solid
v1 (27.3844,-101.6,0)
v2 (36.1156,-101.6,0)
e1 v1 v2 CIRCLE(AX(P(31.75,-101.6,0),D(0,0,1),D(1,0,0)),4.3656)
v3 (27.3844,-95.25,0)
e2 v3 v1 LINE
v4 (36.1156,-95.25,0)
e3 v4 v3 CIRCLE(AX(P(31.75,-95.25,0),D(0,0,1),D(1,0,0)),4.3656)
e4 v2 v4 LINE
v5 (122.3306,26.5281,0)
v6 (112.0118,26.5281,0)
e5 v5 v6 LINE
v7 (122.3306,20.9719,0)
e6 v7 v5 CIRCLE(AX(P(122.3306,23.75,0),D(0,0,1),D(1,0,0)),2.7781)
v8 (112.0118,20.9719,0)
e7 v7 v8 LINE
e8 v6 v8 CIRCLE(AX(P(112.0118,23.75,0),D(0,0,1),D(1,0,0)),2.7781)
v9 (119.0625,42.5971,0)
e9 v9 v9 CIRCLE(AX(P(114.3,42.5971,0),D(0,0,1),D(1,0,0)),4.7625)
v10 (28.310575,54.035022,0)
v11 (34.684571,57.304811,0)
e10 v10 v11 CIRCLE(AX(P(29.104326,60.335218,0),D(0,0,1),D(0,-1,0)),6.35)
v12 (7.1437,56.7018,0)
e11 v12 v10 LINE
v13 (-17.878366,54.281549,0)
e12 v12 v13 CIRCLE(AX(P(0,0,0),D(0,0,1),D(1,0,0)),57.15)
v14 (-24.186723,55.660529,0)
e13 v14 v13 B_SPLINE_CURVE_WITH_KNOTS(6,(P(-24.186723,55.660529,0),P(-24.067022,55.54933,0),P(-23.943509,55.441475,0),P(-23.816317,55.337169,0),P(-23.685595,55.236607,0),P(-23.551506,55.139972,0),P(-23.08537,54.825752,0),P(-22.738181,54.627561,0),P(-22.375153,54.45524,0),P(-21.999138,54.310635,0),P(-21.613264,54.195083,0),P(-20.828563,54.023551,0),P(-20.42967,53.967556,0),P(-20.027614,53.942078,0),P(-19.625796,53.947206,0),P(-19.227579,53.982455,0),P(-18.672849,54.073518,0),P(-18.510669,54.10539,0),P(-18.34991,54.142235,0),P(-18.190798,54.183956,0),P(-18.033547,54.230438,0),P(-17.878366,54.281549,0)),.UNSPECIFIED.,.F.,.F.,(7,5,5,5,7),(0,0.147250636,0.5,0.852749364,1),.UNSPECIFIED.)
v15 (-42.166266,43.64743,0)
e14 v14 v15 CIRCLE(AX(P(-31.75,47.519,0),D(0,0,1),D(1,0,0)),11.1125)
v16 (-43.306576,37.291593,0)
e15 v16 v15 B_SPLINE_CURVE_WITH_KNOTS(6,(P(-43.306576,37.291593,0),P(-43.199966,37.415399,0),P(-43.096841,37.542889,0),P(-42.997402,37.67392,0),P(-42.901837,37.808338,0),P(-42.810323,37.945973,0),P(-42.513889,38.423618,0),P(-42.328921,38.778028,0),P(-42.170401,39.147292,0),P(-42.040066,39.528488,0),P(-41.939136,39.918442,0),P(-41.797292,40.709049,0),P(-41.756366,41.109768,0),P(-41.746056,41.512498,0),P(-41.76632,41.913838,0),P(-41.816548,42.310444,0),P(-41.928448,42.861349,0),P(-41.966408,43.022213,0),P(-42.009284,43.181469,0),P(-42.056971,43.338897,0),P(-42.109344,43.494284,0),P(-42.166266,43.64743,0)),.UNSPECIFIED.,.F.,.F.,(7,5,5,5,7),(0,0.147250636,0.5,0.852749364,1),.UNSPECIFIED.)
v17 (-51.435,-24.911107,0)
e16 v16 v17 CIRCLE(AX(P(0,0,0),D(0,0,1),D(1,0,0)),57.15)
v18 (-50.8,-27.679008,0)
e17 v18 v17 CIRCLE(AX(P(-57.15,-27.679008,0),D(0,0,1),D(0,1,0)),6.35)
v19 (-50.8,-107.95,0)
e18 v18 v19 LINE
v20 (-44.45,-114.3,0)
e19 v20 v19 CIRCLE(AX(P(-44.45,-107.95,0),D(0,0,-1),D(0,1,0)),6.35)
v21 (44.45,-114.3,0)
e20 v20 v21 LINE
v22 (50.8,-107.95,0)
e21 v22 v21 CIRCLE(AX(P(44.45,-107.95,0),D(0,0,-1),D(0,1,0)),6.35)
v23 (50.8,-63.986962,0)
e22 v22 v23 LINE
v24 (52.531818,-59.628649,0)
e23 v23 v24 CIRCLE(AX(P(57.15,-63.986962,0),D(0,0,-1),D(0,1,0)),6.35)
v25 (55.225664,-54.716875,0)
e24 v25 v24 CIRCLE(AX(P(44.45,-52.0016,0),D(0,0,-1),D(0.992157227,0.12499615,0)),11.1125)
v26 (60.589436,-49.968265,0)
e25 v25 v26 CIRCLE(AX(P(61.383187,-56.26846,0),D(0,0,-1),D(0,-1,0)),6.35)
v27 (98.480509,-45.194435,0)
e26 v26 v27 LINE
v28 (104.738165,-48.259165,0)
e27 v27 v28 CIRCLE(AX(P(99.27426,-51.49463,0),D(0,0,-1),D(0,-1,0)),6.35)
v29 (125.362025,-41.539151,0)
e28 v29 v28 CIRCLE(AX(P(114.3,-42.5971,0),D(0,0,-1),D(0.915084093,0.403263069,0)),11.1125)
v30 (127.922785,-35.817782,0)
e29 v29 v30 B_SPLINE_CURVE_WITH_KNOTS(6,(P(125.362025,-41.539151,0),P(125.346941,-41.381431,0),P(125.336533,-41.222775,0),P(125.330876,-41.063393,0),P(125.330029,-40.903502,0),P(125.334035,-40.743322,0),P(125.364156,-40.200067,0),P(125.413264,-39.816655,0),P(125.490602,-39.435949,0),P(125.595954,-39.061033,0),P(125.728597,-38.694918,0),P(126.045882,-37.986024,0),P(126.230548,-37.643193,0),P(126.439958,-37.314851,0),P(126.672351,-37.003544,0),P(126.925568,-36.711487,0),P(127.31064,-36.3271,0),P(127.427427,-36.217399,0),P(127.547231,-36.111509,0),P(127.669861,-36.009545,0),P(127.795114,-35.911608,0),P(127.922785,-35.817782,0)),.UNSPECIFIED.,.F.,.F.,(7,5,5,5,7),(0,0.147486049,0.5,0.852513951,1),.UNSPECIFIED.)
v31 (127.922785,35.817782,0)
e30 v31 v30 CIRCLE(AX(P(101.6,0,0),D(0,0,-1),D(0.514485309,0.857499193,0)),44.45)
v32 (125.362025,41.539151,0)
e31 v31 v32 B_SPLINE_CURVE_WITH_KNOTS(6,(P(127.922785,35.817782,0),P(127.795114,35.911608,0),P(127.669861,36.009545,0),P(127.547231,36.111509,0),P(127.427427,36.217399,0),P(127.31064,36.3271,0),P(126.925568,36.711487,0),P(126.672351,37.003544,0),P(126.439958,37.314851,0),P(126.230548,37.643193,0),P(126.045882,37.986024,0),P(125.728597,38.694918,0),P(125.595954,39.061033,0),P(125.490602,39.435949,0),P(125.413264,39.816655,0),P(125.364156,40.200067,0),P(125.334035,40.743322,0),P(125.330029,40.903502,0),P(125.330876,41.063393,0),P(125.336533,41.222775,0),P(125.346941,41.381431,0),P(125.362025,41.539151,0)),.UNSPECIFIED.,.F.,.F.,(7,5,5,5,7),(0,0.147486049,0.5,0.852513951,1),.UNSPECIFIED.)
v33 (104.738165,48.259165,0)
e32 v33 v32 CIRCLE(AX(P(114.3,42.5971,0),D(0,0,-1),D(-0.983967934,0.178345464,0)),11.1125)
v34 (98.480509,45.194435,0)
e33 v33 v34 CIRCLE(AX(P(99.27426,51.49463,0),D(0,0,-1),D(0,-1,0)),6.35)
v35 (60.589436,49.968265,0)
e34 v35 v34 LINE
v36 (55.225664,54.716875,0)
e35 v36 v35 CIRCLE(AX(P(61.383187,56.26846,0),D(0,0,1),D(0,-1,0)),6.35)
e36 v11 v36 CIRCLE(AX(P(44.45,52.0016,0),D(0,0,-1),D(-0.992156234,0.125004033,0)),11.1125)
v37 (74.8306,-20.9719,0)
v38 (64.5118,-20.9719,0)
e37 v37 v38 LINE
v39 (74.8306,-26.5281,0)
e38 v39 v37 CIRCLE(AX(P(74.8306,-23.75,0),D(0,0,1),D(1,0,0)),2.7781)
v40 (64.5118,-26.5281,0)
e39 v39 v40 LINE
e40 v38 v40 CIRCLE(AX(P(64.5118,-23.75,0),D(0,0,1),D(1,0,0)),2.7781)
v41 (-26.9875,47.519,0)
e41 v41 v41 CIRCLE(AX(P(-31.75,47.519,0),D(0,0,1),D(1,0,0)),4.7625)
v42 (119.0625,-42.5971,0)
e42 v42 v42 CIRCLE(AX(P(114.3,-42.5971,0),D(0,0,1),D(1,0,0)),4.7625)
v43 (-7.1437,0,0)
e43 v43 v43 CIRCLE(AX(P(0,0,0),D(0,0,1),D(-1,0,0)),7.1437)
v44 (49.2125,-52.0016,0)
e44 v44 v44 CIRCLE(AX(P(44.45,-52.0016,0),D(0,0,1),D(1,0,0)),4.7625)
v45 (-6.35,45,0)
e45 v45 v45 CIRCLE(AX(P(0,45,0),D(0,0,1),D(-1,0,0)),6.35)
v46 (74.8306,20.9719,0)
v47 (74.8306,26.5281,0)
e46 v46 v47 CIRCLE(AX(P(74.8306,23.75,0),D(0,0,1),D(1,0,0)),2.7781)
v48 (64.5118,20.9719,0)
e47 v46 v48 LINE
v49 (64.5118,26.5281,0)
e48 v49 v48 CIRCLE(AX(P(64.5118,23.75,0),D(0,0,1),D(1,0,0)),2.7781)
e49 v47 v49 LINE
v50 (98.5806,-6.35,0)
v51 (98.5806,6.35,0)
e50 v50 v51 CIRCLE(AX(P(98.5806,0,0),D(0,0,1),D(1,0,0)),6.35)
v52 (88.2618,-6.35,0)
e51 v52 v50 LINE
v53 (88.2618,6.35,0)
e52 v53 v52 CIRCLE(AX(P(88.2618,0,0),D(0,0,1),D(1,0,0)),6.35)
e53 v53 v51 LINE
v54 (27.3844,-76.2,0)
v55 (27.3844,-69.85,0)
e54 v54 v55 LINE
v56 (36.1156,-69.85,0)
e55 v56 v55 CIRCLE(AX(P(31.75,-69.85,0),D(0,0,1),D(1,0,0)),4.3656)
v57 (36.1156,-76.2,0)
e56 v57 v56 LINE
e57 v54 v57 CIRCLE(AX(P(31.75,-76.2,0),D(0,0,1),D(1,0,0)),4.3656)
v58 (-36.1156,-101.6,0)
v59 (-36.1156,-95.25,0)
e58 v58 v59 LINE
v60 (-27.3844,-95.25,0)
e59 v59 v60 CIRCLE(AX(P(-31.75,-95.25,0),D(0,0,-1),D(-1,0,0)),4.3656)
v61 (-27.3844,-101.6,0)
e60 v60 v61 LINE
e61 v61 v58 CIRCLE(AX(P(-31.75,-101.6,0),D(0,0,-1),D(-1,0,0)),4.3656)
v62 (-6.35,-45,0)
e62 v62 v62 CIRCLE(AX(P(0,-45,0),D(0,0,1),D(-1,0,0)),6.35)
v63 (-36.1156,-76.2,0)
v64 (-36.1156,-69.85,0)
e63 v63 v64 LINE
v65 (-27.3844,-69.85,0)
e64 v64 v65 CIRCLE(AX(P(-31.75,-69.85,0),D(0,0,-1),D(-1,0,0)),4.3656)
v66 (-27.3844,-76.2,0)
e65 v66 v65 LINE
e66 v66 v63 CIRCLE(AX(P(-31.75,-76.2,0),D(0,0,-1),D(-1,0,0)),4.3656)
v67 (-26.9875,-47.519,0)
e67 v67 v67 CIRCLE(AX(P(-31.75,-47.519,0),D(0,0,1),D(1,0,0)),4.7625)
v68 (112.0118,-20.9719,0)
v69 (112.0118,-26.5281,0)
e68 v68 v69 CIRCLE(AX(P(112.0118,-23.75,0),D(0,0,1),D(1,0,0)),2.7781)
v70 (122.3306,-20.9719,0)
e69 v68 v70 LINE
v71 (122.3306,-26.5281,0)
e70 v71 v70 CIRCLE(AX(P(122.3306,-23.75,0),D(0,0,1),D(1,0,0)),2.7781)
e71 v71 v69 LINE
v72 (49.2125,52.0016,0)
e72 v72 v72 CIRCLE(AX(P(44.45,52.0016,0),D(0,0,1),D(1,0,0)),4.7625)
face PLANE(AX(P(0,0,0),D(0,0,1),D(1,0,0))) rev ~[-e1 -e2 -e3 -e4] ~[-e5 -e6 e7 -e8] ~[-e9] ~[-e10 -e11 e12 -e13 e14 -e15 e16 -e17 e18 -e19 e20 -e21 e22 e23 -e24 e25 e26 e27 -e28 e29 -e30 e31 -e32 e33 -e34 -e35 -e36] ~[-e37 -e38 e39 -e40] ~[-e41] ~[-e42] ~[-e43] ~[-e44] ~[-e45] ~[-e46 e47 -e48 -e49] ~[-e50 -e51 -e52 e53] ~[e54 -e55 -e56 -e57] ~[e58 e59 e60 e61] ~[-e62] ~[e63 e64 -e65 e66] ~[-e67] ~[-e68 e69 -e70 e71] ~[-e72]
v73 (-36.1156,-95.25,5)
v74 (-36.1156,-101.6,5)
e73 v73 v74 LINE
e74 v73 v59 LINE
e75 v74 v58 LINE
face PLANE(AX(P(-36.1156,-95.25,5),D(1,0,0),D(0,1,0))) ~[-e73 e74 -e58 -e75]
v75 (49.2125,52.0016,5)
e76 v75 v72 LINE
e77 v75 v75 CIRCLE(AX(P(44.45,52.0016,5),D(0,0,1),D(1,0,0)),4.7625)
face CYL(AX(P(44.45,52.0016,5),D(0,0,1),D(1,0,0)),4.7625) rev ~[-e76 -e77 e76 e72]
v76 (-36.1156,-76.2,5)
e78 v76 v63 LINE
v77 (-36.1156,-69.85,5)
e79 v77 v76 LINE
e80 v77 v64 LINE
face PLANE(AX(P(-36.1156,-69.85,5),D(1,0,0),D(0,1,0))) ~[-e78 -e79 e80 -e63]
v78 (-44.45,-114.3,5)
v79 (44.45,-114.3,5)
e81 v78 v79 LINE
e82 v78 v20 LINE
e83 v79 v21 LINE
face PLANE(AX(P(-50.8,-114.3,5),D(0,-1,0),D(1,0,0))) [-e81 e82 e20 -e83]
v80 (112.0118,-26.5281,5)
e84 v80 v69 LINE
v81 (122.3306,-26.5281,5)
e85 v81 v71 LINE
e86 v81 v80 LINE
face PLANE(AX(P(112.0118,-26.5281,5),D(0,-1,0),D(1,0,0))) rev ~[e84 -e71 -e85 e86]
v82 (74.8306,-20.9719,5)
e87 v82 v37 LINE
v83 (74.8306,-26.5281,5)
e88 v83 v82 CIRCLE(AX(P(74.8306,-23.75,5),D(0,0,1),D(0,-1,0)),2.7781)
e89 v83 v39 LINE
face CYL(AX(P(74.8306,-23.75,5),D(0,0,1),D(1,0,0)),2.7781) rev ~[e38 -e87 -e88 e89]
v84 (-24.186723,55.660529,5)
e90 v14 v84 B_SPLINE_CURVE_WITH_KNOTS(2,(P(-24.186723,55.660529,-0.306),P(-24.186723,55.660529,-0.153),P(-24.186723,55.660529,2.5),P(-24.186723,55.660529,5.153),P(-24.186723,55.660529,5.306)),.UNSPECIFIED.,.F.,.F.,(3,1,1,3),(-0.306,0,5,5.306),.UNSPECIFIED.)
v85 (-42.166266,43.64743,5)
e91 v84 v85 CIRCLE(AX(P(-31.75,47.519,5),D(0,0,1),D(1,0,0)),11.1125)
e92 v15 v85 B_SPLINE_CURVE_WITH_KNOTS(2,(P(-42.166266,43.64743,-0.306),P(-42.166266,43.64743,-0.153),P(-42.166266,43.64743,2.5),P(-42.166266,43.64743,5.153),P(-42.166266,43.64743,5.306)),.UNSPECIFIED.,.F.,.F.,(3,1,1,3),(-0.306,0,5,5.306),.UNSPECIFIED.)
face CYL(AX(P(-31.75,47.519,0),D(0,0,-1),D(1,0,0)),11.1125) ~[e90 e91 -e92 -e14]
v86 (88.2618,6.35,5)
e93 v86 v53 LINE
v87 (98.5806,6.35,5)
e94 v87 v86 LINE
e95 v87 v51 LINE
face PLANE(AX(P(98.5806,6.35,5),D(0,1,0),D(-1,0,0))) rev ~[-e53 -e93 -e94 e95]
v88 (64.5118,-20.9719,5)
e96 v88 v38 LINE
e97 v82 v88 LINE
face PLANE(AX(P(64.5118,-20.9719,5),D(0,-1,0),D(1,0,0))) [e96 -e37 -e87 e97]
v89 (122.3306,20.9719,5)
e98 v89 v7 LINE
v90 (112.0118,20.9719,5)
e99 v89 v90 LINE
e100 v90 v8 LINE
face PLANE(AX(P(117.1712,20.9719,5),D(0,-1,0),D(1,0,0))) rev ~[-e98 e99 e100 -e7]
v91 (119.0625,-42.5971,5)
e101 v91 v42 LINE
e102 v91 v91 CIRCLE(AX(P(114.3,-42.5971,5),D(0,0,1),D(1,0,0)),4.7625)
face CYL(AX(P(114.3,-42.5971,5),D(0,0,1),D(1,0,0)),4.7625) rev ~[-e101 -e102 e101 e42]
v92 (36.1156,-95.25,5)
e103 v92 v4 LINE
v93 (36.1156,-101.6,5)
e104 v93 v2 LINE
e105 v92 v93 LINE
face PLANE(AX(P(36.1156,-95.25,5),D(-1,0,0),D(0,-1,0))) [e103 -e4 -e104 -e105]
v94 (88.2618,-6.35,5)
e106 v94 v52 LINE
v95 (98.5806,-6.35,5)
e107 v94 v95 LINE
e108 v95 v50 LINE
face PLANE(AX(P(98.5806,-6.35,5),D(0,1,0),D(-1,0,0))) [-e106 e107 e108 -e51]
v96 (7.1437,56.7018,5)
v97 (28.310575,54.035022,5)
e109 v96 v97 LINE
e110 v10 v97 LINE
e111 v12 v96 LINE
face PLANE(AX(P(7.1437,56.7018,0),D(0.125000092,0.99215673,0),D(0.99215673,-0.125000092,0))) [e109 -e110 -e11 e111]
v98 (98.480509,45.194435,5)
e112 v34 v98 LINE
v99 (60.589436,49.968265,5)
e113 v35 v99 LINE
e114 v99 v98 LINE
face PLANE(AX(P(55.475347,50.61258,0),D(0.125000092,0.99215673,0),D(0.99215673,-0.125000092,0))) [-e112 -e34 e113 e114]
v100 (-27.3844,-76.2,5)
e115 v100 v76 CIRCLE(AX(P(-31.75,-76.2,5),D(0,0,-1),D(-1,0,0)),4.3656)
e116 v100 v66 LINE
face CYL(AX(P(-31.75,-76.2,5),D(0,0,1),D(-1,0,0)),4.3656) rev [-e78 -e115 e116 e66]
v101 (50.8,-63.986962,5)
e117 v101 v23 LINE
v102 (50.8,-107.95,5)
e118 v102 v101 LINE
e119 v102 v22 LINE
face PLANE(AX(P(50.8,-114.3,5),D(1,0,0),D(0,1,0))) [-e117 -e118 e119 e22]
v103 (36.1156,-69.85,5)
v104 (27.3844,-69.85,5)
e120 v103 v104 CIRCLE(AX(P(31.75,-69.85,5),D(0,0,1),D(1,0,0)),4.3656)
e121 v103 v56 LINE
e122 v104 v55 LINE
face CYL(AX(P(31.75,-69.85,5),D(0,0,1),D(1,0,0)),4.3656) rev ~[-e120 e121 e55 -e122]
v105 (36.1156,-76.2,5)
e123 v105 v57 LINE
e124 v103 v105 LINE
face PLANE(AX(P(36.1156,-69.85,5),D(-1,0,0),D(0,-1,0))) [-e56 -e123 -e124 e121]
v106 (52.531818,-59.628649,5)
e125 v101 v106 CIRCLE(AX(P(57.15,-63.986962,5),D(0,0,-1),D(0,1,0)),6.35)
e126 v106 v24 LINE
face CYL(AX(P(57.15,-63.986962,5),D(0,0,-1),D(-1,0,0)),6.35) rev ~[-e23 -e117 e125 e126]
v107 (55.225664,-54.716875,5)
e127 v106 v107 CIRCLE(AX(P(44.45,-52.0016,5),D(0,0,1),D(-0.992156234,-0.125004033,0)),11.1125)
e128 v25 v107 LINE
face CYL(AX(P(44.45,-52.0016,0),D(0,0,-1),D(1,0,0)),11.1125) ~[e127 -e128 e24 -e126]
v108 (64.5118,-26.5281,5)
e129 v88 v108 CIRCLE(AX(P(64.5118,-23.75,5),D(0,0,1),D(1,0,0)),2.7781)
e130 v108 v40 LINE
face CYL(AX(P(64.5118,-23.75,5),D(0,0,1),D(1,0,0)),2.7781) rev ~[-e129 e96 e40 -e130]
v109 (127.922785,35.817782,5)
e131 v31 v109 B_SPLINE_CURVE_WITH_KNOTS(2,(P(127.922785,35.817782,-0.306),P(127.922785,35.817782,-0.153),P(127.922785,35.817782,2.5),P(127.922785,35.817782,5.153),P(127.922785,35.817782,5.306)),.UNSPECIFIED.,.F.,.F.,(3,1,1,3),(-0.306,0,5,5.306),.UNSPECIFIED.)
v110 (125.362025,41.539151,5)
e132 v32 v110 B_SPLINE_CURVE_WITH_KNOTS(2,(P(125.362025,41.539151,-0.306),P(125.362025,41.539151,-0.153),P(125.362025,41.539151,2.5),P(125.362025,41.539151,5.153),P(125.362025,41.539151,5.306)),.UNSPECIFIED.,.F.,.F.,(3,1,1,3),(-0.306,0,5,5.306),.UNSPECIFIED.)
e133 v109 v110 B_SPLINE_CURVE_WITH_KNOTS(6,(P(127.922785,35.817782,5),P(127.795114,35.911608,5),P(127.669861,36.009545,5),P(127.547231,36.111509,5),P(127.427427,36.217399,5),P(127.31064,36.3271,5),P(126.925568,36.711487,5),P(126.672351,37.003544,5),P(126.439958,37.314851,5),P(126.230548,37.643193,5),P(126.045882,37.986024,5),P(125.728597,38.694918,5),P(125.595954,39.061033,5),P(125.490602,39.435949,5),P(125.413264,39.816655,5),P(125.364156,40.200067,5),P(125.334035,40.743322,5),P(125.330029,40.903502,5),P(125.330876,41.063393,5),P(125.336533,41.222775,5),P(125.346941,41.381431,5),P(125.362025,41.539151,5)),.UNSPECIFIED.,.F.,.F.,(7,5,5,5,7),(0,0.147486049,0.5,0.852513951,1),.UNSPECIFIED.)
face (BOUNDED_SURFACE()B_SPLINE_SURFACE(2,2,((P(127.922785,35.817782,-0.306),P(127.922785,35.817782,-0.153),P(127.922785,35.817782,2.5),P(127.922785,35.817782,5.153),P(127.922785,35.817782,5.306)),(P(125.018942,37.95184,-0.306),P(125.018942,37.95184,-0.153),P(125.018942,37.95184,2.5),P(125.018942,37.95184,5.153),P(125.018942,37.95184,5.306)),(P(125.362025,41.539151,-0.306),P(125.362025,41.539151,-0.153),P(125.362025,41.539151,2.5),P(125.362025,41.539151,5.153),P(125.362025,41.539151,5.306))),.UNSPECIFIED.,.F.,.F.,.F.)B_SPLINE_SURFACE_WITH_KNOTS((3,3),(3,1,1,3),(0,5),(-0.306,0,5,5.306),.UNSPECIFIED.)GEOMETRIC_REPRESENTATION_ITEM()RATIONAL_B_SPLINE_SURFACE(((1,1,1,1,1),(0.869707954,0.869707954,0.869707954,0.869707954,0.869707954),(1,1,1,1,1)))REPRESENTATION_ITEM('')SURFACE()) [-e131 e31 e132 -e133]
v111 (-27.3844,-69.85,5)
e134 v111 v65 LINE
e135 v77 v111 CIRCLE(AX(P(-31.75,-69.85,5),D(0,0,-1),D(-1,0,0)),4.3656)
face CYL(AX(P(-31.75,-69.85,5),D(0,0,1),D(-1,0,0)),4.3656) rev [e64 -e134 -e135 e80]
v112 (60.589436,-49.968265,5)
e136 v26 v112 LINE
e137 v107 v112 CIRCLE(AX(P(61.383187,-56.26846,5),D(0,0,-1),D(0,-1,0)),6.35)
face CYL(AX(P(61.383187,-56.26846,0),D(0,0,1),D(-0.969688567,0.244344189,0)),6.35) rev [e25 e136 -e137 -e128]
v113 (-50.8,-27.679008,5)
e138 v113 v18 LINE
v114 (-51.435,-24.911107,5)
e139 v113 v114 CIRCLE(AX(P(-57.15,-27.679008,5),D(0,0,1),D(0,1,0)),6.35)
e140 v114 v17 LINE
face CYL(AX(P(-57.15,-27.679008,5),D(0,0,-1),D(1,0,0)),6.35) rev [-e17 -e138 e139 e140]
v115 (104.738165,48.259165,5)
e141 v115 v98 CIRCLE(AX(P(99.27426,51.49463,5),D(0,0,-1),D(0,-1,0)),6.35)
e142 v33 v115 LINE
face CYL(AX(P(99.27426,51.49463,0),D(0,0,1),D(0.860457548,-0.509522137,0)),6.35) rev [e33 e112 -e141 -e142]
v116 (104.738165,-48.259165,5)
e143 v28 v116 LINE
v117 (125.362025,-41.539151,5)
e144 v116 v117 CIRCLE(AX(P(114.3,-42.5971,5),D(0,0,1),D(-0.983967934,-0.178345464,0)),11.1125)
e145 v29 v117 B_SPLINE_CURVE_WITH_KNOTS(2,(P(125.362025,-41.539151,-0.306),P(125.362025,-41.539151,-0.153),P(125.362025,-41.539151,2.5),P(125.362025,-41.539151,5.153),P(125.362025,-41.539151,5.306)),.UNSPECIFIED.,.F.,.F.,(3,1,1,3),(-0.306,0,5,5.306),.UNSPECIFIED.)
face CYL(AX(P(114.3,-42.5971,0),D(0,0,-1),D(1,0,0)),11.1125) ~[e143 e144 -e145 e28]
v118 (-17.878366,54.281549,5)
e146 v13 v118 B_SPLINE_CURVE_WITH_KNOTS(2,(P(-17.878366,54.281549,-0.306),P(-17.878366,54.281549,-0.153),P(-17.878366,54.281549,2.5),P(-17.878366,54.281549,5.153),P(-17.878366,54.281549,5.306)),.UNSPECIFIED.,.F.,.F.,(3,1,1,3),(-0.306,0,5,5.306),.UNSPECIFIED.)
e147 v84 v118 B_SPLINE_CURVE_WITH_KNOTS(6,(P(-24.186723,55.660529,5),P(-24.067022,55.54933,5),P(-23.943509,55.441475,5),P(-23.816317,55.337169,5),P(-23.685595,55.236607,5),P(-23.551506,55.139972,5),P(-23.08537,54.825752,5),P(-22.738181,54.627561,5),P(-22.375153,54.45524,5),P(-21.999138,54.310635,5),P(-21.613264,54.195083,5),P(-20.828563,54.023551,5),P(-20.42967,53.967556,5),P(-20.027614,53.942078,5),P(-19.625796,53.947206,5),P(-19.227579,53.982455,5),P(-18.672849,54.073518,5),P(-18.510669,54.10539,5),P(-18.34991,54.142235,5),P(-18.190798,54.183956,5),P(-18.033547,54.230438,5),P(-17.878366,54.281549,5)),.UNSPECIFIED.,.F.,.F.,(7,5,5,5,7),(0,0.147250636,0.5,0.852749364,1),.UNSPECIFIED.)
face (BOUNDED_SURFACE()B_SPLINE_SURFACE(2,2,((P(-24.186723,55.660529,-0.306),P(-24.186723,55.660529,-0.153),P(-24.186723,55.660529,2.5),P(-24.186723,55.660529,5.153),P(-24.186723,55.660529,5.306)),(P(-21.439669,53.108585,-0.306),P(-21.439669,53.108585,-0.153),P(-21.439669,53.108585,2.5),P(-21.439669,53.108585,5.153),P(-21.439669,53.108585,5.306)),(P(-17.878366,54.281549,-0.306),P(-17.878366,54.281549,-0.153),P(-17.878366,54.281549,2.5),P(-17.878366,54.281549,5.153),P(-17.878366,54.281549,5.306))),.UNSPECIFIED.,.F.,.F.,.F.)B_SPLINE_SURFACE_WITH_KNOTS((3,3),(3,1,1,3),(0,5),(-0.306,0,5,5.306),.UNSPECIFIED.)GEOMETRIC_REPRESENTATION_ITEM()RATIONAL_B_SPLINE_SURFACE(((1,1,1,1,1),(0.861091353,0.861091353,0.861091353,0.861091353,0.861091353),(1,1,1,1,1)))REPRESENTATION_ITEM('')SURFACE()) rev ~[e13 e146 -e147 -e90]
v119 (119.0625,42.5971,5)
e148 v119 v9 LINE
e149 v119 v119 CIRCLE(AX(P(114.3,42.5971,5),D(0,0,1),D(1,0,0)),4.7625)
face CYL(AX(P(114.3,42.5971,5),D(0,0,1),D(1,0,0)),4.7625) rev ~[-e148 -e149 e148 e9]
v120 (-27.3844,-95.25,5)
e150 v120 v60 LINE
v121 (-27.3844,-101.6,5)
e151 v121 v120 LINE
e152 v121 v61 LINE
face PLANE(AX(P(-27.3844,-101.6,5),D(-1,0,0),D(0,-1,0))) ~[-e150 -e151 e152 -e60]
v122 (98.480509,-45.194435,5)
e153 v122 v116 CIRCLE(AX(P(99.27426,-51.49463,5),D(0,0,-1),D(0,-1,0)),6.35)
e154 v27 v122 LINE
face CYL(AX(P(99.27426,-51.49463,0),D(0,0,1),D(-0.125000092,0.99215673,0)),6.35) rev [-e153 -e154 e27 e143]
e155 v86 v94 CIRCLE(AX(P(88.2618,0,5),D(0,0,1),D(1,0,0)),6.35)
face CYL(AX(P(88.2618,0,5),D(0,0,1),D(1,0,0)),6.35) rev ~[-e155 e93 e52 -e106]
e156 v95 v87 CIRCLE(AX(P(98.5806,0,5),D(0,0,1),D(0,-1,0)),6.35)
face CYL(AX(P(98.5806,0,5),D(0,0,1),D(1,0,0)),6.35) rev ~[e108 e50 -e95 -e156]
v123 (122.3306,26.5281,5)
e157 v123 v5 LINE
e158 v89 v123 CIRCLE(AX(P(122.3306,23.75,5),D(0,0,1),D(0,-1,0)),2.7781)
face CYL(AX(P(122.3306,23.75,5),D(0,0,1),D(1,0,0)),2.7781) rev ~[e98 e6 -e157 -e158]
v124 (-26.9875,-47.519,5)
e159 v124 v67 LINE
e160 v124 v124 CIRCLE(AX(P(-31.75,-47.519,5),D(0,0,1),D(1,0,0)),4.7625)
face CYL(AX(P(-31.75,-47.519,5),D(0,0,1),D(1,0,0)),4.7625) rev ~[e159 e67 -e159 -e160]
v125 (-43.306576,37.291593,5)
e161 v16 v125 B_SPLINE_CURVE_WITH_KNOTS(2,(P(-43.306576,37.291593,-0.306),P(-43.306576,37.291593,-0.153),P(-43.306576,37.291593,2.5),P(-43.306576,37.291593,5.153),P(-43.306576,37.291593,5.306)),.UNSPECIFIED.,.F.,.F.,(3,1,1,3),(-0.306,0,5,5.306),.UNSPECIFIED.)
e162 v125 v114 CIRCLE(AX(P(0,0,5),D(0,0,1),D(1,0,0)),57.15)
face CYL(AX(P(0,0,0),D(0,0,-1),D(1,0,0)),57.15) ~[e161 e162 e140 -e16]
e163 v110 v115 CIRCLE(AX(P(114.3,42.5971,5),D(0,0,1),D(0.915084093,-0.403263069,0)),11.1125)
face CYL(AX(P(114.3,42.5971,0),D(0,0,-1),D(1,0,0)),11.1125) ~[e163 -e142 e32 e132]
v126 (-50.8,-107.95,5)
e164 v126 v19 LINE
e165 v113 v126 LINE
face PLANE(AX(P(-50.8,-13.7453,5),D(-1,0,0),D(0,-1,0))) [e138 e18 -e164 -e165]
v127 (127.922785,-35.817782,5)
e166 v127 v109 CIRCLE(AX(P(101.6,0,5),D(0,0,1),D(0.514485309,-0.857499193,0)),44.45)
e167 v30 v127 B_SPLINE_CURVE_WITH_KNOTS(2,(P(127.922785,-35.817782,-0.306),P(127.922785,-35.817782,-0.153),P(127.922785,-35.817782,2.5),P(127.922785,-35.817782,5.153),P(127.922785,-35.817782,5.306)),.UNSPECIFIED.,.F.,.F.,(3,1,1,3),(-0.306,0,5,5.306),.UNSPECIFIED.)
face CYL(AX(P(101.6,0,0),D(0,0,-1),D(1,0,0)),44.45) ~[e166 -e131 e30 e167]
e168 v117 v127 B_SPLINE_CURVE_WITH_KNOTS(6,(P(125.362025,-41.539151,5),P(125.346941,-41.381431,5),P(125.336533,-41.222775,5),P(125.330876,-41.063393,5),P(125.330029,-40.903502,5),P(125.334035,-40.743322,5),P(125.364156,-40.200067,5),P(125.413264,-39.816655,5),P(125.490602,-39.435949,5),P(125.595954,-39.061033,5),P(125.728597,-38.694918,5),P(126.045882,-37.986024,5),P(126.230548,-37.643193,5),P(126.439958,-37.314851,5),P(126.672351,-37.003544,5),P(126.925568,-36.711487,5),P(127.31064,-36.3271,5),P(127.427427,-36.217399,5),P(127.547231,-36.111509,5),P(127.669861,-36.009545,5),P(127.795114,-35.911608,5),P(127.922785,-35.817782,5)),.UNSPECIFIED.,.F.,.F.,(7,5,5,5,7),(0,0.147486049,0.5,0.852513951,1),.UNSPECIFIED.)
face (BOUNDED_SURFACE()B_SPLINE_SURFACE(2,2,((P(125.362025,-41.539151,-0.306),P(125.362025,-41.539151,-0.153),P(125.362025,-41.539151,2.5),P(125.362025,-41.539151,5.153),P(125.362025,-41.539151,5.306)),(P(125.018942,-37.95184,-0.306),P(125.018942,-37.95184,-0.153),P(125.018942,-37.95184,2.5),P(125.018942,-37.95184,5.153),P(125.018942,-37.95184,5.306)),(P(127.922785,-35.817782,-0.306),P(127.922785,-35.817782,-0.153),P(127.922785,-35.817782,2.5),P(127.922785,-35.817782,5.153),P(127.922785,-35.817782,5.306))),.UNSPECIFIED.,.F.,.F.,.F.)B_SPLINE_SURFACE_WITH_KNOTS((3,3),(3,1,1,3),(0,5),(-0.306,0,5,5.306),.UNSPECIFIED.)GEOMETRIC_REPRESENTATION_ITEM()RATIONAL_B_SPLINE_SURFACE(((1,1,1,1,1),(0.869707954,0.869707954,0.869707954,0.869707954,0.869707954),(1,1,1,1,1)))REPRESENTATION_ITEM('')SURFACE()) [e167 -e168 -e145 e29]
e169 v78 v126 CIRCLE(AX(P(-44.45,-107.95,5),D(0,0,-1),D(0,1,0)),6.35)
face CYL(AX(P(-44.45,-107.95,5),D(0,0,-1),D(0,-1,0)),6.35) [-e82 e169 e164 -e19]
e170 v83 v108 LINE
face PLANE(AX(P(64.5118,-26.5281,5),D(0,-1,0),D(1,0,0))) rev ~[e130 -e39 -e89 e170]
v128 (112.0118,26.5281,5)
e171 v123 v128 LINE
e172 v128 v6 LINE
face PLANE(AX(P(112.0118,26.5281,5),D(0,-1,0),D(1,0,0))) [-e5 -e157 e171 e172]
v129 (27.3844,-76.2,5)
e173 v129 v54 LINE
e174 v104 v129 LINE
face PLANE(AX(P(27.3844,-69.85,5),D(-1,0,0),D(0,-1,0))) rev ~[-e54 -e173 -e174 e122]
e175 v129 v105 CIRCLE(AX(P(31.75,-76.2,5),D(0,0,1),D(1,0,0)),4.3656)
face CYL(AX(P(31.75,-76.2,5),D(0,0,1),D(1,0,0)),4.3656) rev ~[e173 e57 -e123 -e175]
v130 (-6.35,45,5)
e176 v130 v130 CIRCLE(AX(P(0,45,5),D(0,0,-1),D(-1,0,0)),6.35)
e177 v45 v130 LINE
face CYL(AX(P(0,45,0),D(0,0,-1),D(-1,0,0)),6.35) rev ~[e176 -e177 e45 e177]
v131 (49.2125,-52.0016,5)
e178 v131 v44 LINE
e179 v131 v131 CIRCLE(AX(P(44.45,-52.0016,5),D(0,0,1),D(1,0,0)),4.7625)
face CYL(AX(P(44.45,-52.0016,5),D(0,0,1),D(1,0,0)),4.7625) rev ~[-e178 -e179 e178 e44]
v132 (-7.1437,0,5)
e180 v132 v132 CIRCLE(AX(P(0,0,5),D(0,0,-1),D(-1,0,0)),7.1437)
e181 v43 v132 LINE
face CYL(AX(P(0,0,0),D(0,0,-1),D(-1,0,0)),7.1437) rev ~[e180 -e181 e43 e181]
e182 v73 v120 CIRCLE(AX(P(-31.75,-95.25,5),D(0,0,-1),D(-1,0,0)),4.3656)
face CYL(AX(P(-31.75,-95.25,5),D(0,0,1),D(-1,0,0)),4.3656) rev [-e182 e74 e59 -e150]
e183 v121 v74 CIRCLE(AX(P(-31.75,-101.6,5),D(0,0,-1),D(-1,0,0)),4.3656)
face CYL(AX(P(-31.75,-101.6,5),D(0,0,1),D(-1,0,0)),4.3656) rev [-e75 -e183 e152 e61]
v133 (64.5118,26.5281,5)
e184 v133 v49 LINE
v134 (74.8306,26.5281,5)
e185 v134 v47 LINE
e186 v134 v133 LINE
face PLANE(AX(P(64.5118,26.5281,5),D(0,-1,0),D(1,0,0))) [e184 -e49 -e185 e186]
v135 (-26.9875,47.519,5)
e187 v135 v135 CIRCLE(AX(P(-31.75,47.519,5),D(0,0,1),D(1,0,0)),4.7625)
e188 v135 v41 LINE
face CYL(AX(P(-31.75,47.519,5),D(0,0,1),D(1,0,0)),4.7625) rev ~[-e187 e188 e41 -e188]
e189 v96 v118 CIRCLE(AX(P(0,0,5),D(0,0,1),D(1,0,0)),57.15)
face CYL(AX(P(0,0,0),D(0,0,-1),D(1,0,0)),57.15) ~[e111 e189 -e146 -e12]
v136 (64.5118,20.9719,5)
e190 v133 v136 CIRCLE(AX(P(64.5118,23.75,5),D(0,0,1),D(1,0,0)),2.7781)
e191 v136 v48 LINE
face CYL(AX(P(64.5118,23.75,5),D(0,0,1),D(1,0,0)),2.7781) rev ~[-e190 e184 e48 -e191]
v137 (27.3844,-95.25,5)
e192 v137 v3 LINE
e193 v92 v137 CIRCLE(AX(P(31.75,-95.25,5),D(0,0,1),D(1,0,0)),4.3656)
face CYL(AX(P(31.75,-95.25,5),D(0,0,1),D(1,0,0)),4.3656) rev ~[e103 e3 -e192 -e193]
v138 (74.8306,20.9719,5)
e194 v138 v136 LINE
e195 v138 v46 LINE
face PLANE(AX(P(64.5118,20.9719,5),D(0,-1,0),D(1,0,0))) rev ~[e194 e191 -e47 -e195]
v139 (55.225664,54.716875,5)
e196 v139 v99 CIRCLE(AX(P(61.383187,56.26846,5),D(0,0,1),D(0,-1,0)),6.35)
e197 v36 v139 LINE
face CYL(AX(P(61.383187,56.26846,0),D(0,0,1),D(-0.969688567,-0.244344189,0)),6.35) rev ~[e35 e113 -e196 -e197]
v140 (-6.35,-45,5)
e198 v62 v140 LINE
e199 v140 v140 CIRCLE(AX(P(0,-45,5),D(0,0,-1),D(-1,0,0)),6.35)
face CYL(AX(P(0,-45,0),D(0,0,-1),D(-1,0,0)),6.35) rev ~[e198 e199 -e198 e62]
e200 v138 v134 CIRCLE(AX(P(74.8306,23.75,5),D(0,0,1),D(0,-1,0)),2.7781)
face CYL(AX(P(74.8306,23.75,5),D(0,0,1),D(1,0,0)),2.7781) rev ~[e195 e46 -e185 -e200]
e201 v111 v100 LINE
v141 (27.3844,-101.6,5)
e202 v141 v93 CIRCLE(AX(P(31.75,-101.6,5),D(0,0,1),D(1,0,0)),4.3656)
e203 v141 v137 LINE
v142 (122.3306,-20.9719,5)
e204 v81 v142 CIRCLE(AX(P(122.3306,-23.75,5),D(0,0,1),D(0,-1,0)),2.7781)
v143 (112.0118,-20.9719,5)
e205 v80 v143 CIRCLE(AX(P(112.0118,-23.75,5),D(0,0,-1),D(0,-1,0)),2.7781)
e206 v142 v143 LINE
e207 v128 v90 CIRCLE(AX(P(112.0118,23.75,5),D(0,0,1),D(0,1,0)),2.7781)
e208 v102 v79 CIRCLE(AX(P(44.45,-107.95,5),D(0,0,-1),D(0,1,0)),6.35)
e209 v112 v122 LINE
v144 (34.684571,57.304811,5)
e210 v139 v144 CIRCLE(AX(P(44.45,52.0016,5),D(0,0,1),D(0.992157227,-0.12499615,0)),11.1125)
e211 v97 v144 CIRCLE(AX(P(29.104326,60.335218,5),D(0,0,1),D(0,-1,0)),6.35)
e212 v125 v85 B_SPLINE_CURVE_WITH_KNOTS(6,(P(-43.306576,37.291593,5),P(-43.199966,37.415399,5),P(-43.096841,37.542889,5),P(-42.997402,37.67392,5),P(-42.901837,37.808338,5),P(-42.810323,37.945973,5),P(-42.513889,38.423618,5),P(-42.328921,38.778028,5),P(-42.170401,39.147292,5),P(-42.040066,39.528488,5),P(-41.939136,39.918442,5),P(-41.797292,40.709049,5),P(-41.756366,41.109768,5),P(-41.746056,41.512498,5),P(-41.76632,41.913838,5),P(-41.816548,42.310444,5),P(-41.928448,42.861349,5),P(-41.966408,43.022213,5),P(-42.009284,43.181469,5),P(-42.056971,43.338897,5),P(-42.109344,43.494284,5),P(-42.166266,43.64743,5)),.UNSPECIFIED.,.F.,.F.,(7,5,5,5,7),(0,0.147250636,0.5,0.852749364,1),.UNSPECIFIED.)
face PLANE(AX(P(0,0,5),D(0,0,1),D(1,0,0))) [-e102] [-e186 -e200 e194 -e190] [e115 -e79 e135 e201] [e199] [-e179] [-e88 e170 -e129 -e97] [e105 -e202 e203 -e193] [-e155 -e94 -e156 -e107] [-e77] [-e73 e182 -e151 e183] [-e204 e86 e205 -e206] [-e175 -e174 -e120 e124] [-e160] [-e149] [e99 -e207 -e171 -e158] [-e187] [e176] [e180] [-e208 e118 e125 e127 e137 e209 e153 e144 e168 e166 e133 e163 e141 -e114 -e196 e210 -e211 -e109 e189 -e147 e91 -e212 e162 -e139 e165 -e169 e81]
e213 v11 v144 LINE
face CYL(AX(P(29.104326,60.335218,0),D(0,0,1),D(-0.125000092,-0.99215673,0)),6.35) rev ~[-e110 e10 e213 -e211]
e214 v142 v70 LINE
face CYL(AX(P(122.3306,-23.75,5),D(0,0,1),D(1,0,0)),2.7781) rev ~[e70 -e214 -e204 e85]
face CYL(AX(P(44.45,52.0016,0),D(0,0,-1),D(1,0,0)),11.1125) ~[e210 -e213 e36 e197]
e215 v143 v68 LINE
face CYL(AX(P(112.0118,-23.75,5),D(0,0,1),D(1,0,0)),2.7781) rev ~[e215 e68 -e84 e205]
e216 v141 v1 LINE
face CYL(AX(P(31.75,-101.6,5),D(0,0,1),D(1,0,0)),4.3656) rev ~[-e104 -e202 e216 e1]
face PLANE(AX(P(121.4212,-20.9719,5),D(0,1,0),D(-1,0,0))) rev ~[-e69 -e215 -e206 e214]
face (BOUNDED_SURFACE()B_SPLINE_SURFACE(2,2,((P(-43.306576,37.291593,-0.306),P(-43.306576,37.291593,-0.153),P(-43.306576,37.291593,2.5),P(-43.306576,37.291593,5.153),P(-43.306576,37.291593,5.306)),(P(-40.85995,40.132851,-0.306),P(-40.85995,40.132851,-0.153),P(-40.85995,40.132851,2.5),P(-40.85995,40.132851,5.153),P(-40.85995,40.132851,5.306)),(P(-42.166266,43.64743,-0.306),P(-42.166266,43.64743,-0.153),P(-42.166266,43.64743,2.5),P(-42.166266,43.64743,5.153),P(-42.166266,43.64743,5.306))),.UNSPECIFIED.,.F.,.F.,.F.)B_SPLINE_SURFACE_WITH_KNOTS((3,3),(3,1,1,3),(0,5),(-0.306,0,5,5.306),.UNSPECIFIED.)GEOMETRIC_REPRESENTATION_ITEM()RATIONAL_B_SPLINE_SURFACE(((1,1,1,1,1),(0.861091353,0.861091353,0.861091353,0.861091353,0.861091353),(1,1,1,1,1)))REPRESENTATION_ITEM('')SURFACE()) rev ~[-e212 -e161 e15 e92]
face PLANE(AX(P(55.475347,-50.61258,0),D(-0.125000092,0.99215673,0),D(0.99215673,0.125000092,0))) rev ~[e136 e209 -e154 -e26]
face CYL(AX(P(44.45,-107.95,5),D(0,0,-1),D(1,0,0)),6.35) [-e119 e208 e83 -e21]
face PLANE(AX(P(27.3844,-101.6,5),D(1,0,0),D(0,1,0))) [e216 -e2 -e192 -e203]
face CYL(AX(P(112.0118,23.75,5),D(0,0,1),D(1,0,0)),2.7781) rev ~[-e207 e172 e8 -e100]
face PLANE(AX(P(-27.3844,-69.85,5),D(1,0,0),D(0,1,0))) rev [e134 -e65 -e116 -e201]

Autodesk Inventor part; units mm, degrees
ref_plane "YZ Plane" through (0, 0, 0) normal (1, 0, 0) x (0, 1, 0)
ref_plane "XZ Plane" through (0, 0, 0) normal (0, 1, 0) x (-1, 0, 0)
ref_plane "XY Plane" through (0, 0, 0) normal (0, 0, 1) x (1, 0, 0)
sketch "Boceto1" plane through (0, 0, 0) normal (0, 0, 1) x (1, 0, 0)
  circle A0 centre (0, 0) radius 57.15
  circle A1 centre (101.6, 0) radius 44.45
  circle A2 centre (-31.75, 47.519) radius 11.1125
  circle A3 centre (-31.75, -47.519) radius 11.1125
  circle A4 centre (114.3, 42.5971) radius 11.1125
  circle A5 centre (114.3, -42.5971) radius 11.1125
  line L0 (7.1437, 56.7018) -> (107.1562, 44.1014)
  circle A6 centre (44.45, 52.0016) radius 11.1125
  line L1 (7.1437, -56.7018) -> (107.1562, -44.1014)
  circle A7 centre (44.45, -52.0016) radius 11.1125
  dimension "d0" = 114.3
  dimension "d1" = 88.9
  dimension "d2" = 203.2
  dimension "d3" = 22.225
  dimension "d4" = 22.225
  dimension "d7" = 22.225
  dimension "d8" = 22.225
  dimension "d11" = 22.225
  dimension "d13" = 0
  dimension "d14" = 22.225
  dimension "d27" = 12.7
  dimension "d28" = 12.7
  dimension "d29" = 44.45
  dimension "d30" = 44.45
  dimension "d31" = 31.75
  dimension "d32" = 31.75
extrude "Extrusión1" add sketch "Boceto1" along normal blind 5
sketch "Boceto2" plane through (0, 0, 5) normal (0, 0, 1) x (1, 0, 0)
  arc A0 (-21.9537, 52.7651) -> (-40.3458, 40.4764) centre (-31.75, 47.519) ccw projected
  circle A1 centre (-31.75, 47.519) radius 4.7625
  arc A2 (-40.3458, -40.4764) -> (-21.9537, -52.7651) centre (-31.75, -47.519) ccw projected
  circle A3 centre (-31.75, -47.519) radius 4.7625
  arc A4 (33.4247, -53.3907) -> (55.4753, -50.6125) centre (44.45, -52.0016) ccw projected
  circle A5 centre (44.45, -52.0016) radius 4.7625
  arc A6 (55.4753, 50.6125) -> (33.4247, 53.3907) centre (44.45, 52.0016) ccw projected
  circle A7 centre (44.45, 52.0016) radius 4.7625
  arc A8 (124.4689, 38.1158) -> (103.3657, 44.5789) centre (114.3, 42.5971) ccw projected
  circle A9 centre (114.3, 42.5971) radius 4.7625
  arc A10 (103.3657, -44.5789) -> (124.4689, -38.1158) centre (114.3, -42.5971) ccw projected
  circle A11 centre (114.3, -42.5971) radius 4.7625
  point P0 (0, 0)
  dimension "d18" = 9.525
  dimension "d19" = 9.525
  dimension "d20" = 9.525
  dimension "d21" = 9.525
  dimension "d22" = 9.525
  dimension "d23" = 9.525
extrude "Extrusión2" cut sketch "Boceto2" against normal up to surface (5 mm away)
fillet "Empalme1" radius 6.35 12 edges at (-21.9537, -52.7651, 2.5) (-40.3458, -40.4764, 2.5) (33.4247, -53.3907, 2.5) (55.4753, -50.6125, 2.5) (124.4689, -38.1158, 2.5) (-40.3458, 40.4764, 2.5) (-21.9537, 52.7651, 2.5) (33.4247, 53.3907, 2.5) (55.4753, 50.6125, 2.5) (103.3657, 44.5789, 2.5) (124.4689, 38.1158, 2.5) (103.3657, -44.5789, 2.5)
sketch "Boceto3" plane through (0, 0, 0) normal (0, 0, -1) x (-1, 0, 0)
  circle A0 centre (0, 0) radius 7.1437
  circle A1 centre (0, -45) radius 6.35
  circle A2 centre (0, 45) radius 6.35
  line L0 (0, -45) -> (0, 0)
  line L1 (0, 0) -> (0, 45)
  dimension "d33" = 14.2875
  dimension "d34" = 12.7
  dimension "d35" = 12.7
  dimension "d36" = 45
  dimension "d37" = 45
extrude "Extrusión3" cut sketch "Boceto3" against normal up to surface (5 mm away)
sketch "Boceto4" plane through (0, 0, 5) normal (0, 0, 1) x (1, 0, 0)
  circle A0 centre (93.4212, 0) radius 6.35
  line L0 (65.4212, -28) -> (121.4212, -28)
  line L1 (121.4212, -28) -> (121.4212, 28)
  line L2 (121.4212, 28) -> (65.4212, 28)
  line L3 (65.4212, 28) -> (65.4212, -28)
  line L4 (69.6712, -23.75) -> (117.1712, -23.75)
  line L5 (117.1712, -23.75) -> (117.1712, 23.75)
  line L6 (117.1712, 23.75) -> (69.6712, 23.75)
  line L7 (69.6712, 23.75) -> (69.6712, -23.75)
  circle A1 centre (74.8306, -23.75) radius 2.7781
  circle A2 centre (112.0118, -23.75) radius 2.7781
  circle A3 centre (122.3306, -23.75) radius 2.7781
  circle A4 centre (64.5118, -23.75) radius 2.7781
  line L8 (64.5118, -26.5281) -> (74.8306, -26.5281)
  line L9 (64.5118, -20.9719) -> (74.8306, -20.9719)
  line L10 (112.0118, -26.5281) -> (122.3306, -26.5281)
  line L11 (122.3306, -20.9719) -> (112.0118, -20.9719)
  circle A5 centre (74.8306, 23.75) radius 2.7781
  circle A6 centre (64.5118, 23.75) radius 2.7781
  line L12 (64.5118, 20.9719) -> (74.8306, 20.9719)
  line L13 (64.5118, 26.5281) -> (74.8306, 26.5281)
  circle A7 centre (112.0118, 23.75) radius 2.7781
  circle A8 centre (122.3306, 23.75) radius 2.7781
  line L14 (112.0118, 20.9719) -> (122.3306, 20.9719)
  line L15 (112.0118, 26.5281) -> (122.3306, 26.5281)
  circle A9 centre (98.5806, 0) radius 6.35
  circle A10 centre (88.2618, 0) radius 6.35
  line L16 (98.5806, 6.35) -> (88.2618, 6.35)
  line L17 (98.5806, -6.35) -> (88.2618, -6.35)
  point P0 (0, 0)
  dimension "d40" = 12.7
  dimension "d41" = 56
  dimension "d42" = 56
  dimension "d43" = 28
  dimension "d44" = 28
  dimension "d45" = 0
  dimension "d46" = 93.4212
  dimension "d47" = 47.5
  dimension "d48" = 47.5
  dimension "d49" = 23.75
  dimension "d50" = 23.75
  dimension "d57" = 5.5563
  dimension "d58" = 5.1594
  dimension "d59" = 5.5563
  dimension "d60" = 5.5563
  dimension "d61" = 5.1594
  dimension "d62" = 5.1594
  dimension "d63" = 5.5563
  dimension "d64" = 5.1594
  dimension "d65" = 0
  dimension "d66" = 5.5563
  dimension "d67" = 5.5563
  dimension "d68" = 5.1594
  dimension "d69" = 5.1594
  dimension "d70" = 0
  dimension "d71" = 5.5563
  dimension "d72" = 5.5563
  dimension "d73" = 5.1594
  dimension "d74" = 5.1594
  dimension "d75" = 0
  dimension "d78" = 12.7
  dimension "d79" = 12.7
  dimension "d80" = 5.1594
  dimension "d81" = 5.1594
extrude "Extrusión4" cut sketch "Boceto4" against normal up to next contours A0 A9 A10 | A0 A9 | A9 A10 A0 | A0 L16 A9 | A9 L17 A0 | A0 A10 A9 | A0 A10 L16 | A10 A9 | A9 A10 A0 | L17 A10 A0 | A0 A10 | L8 A4 L3 | L3 A4 L9 L7 L4 A1 L8 | L10 A2 L4 L5 L11 L1 A3 | L1 A3 L10 | A4 L3 | L3 A4 | A1 L4 | A3 L1 | L1 A3 | A2 L4 | A4 L9 L3 | L4 A1 | L4 L7 L9 A1 | L1 L11 A3 | A2 L11 L5 L4 | L4 A2 | L12 A6 L3 | L3 A6 L13 A5 L6 L7 L12 | L14 L5 L6 A7 L15 L1 A8 | L1 A8 L14 | A6 L3 | L3 A6 | L7 L6 A5 L12 | A8 L1 | L1 A8 | L14 A7 L6 L5 | A6 L13 L3 | A5 L6 | L1 L15 A8 | A7 L6 | A5 L6 | L6 A7
sketch "Boceto5" plane through (0, 0, 5) normal (0, 0, 1) x (1, 0, 0)
  line L0 (50.8, -13.7453) -> (-50.8, -13.7453)
  line L1 (-50.8, -13.7453) -> (-50.8, -114.3)
  line L2 (-50.8, -114.3) -> (50.8, -114.3)
  line L3 (50.8, -114.3) -> (50.8, -13.7453)
  arc A0 (7.1437, 56.7018) -> (-17.8783, 54.2816) centre (0, 0) ccw projected
  arc A1 (7.1437, 56.7018) -> (-17.8783, 54.2816) centre (0, 0) ccw projected
  line L4 (0, 57.15) -> (7.6634, 57.15)
  arc A2 (127.9228, -35.8178) -> (127.9228, 35.8178) centre (101.6, 0) ccw projected
  line L5 (146.05, 0) -> (146.05, -27.5116)
  dimension "d82" = 101.6
  dimension "d84" = 171.45
  dimension "d85" = 95.25
extrude "Extrusión5" add sketch "Boceto5" against normal up to surface (5 mm away)
extrude "Extrusión6" cut sketch "Boceto2" against normal up to next contours A3 | A5
sketch "Boceto7" plane through (0, 0, 5) normal (0, 0, 1) x (1, 0, 0)
  circle A0 centre (31.75, -69.85) radius 4.3656
  circle A1 centre (31.75, -76.2) radius 4.3656
  line L0 (50.8, -114.3) -> (50.8, -61.1211) projected
  line L1 (-50.8, -114.3) -> (50.8, -114.3) projected
  line L2 (36.1156, -69.85) -> (36.1156, -76.2)
  line L3 (27.3844, -69.85) -> (27.3844, -76.2)
  circle A2 centre (31.75, -95.25) radius 4.3656
  circle A3 centre (31.75, -101.6) radius 4.3656
  line L4 (36.1156, -95.25) -> (36.1156, -101.6)
  line L5 (27.3844, -101.6) -> (27.3844, -95.25)
  point P0 (0, 0)
  dimension "d90" = 8.7312
  dimension "d91" = 8.7312
  dimension "d92" = 19.05
  dimension "d93" = 44.45
  dimension "d94" = 38.1
  dimension "d95" = 0
  dimension "d96" = 8.7312
  dimension "d97" = 8.7312
  dimension "d98" = 19.05
  dimension "d99" = 19.05
  dimension "d100" = 12.7
  dimension "d101" = 0
extrude "Extrusión7" cut sketch "Boceto7" against normal up to next
mirror "Simetría1" about plane through (0, 0, 0) normal (1, 0, 0) of "Extrusión7"
fillet "Empalme2" radius 6.35 4 edges at (-50.8, -26.1817, 2.5) (-50.8, -114.3, 2.5) (50.8, -61.1211, 2.5) (50.8, -114.3, 2.5)
extrude "Extrusión8" cut sketch "Boceto3" against normal up to next contours A1
equation "\"d16\" = t"
equation "\"d18\" = Q"
equation "\"d19\" = Q"
equation "\"d20\" = Q"
equation "\"d21\" = Q"
equation "\"d22\" = Q"
equation "\"d23\" = Q"
equation "\"d33\" = DF"
equation "\"d34\" = NF"
equation "\"d35\" = NF"
equation "\"d36\" = 0.5 * JF"
equation "\"d37\" = 0.5 * JF"
equation "\"d40\" = DM"
equation "\"d41\" = AM"
equation "\"d42\" = AM"
equation "\"d43\" = 0.5 * AM"
equation "\"d44\" = 0.5 * AM"
equation "\"d46\" = CM"
equation "\"d47\" = BM"
equation "\"d48\" = BM"
equation "\"d49\" = 0.5 * BM"
equation "\"d50\" = 0.5 * BM"
equation "\"d57\" = NM"
equation "\"d59\" = NM"
equation "\"d60\" = NM"
equation "\"d63\" = NM"
equation "\"d66\" = NM"
equation "\"d67\" = NM"
equation "\"d71\" = NM"
equation "\"d72\" = NM"
equation "\"d78\" = DM"
equation "\"d79\" = DM"
equation "\"d90\" = DH"
equation "\"d91\" = DH"
equation "\"d96\" = DH"
equation "\"d97\" = DH"
equation "\"t\" = 5"
equation "\"Q\" = 9.525"
equation "\"DF\" = 14.2875"
equation "\"NF\" = 12.7"
equation "\"DM\" = 12.7"
equation "\"NM\" = 5.55625"
equation "\"CM\" = 93.4212"
equation "\"AM\" = 56"
equation "\"BM\" = 47.5"
equation "\"DH\" = 8.73125"
equation "\"JF\" = 90"
properties part number "CAR REDUCTION PLATE II"
